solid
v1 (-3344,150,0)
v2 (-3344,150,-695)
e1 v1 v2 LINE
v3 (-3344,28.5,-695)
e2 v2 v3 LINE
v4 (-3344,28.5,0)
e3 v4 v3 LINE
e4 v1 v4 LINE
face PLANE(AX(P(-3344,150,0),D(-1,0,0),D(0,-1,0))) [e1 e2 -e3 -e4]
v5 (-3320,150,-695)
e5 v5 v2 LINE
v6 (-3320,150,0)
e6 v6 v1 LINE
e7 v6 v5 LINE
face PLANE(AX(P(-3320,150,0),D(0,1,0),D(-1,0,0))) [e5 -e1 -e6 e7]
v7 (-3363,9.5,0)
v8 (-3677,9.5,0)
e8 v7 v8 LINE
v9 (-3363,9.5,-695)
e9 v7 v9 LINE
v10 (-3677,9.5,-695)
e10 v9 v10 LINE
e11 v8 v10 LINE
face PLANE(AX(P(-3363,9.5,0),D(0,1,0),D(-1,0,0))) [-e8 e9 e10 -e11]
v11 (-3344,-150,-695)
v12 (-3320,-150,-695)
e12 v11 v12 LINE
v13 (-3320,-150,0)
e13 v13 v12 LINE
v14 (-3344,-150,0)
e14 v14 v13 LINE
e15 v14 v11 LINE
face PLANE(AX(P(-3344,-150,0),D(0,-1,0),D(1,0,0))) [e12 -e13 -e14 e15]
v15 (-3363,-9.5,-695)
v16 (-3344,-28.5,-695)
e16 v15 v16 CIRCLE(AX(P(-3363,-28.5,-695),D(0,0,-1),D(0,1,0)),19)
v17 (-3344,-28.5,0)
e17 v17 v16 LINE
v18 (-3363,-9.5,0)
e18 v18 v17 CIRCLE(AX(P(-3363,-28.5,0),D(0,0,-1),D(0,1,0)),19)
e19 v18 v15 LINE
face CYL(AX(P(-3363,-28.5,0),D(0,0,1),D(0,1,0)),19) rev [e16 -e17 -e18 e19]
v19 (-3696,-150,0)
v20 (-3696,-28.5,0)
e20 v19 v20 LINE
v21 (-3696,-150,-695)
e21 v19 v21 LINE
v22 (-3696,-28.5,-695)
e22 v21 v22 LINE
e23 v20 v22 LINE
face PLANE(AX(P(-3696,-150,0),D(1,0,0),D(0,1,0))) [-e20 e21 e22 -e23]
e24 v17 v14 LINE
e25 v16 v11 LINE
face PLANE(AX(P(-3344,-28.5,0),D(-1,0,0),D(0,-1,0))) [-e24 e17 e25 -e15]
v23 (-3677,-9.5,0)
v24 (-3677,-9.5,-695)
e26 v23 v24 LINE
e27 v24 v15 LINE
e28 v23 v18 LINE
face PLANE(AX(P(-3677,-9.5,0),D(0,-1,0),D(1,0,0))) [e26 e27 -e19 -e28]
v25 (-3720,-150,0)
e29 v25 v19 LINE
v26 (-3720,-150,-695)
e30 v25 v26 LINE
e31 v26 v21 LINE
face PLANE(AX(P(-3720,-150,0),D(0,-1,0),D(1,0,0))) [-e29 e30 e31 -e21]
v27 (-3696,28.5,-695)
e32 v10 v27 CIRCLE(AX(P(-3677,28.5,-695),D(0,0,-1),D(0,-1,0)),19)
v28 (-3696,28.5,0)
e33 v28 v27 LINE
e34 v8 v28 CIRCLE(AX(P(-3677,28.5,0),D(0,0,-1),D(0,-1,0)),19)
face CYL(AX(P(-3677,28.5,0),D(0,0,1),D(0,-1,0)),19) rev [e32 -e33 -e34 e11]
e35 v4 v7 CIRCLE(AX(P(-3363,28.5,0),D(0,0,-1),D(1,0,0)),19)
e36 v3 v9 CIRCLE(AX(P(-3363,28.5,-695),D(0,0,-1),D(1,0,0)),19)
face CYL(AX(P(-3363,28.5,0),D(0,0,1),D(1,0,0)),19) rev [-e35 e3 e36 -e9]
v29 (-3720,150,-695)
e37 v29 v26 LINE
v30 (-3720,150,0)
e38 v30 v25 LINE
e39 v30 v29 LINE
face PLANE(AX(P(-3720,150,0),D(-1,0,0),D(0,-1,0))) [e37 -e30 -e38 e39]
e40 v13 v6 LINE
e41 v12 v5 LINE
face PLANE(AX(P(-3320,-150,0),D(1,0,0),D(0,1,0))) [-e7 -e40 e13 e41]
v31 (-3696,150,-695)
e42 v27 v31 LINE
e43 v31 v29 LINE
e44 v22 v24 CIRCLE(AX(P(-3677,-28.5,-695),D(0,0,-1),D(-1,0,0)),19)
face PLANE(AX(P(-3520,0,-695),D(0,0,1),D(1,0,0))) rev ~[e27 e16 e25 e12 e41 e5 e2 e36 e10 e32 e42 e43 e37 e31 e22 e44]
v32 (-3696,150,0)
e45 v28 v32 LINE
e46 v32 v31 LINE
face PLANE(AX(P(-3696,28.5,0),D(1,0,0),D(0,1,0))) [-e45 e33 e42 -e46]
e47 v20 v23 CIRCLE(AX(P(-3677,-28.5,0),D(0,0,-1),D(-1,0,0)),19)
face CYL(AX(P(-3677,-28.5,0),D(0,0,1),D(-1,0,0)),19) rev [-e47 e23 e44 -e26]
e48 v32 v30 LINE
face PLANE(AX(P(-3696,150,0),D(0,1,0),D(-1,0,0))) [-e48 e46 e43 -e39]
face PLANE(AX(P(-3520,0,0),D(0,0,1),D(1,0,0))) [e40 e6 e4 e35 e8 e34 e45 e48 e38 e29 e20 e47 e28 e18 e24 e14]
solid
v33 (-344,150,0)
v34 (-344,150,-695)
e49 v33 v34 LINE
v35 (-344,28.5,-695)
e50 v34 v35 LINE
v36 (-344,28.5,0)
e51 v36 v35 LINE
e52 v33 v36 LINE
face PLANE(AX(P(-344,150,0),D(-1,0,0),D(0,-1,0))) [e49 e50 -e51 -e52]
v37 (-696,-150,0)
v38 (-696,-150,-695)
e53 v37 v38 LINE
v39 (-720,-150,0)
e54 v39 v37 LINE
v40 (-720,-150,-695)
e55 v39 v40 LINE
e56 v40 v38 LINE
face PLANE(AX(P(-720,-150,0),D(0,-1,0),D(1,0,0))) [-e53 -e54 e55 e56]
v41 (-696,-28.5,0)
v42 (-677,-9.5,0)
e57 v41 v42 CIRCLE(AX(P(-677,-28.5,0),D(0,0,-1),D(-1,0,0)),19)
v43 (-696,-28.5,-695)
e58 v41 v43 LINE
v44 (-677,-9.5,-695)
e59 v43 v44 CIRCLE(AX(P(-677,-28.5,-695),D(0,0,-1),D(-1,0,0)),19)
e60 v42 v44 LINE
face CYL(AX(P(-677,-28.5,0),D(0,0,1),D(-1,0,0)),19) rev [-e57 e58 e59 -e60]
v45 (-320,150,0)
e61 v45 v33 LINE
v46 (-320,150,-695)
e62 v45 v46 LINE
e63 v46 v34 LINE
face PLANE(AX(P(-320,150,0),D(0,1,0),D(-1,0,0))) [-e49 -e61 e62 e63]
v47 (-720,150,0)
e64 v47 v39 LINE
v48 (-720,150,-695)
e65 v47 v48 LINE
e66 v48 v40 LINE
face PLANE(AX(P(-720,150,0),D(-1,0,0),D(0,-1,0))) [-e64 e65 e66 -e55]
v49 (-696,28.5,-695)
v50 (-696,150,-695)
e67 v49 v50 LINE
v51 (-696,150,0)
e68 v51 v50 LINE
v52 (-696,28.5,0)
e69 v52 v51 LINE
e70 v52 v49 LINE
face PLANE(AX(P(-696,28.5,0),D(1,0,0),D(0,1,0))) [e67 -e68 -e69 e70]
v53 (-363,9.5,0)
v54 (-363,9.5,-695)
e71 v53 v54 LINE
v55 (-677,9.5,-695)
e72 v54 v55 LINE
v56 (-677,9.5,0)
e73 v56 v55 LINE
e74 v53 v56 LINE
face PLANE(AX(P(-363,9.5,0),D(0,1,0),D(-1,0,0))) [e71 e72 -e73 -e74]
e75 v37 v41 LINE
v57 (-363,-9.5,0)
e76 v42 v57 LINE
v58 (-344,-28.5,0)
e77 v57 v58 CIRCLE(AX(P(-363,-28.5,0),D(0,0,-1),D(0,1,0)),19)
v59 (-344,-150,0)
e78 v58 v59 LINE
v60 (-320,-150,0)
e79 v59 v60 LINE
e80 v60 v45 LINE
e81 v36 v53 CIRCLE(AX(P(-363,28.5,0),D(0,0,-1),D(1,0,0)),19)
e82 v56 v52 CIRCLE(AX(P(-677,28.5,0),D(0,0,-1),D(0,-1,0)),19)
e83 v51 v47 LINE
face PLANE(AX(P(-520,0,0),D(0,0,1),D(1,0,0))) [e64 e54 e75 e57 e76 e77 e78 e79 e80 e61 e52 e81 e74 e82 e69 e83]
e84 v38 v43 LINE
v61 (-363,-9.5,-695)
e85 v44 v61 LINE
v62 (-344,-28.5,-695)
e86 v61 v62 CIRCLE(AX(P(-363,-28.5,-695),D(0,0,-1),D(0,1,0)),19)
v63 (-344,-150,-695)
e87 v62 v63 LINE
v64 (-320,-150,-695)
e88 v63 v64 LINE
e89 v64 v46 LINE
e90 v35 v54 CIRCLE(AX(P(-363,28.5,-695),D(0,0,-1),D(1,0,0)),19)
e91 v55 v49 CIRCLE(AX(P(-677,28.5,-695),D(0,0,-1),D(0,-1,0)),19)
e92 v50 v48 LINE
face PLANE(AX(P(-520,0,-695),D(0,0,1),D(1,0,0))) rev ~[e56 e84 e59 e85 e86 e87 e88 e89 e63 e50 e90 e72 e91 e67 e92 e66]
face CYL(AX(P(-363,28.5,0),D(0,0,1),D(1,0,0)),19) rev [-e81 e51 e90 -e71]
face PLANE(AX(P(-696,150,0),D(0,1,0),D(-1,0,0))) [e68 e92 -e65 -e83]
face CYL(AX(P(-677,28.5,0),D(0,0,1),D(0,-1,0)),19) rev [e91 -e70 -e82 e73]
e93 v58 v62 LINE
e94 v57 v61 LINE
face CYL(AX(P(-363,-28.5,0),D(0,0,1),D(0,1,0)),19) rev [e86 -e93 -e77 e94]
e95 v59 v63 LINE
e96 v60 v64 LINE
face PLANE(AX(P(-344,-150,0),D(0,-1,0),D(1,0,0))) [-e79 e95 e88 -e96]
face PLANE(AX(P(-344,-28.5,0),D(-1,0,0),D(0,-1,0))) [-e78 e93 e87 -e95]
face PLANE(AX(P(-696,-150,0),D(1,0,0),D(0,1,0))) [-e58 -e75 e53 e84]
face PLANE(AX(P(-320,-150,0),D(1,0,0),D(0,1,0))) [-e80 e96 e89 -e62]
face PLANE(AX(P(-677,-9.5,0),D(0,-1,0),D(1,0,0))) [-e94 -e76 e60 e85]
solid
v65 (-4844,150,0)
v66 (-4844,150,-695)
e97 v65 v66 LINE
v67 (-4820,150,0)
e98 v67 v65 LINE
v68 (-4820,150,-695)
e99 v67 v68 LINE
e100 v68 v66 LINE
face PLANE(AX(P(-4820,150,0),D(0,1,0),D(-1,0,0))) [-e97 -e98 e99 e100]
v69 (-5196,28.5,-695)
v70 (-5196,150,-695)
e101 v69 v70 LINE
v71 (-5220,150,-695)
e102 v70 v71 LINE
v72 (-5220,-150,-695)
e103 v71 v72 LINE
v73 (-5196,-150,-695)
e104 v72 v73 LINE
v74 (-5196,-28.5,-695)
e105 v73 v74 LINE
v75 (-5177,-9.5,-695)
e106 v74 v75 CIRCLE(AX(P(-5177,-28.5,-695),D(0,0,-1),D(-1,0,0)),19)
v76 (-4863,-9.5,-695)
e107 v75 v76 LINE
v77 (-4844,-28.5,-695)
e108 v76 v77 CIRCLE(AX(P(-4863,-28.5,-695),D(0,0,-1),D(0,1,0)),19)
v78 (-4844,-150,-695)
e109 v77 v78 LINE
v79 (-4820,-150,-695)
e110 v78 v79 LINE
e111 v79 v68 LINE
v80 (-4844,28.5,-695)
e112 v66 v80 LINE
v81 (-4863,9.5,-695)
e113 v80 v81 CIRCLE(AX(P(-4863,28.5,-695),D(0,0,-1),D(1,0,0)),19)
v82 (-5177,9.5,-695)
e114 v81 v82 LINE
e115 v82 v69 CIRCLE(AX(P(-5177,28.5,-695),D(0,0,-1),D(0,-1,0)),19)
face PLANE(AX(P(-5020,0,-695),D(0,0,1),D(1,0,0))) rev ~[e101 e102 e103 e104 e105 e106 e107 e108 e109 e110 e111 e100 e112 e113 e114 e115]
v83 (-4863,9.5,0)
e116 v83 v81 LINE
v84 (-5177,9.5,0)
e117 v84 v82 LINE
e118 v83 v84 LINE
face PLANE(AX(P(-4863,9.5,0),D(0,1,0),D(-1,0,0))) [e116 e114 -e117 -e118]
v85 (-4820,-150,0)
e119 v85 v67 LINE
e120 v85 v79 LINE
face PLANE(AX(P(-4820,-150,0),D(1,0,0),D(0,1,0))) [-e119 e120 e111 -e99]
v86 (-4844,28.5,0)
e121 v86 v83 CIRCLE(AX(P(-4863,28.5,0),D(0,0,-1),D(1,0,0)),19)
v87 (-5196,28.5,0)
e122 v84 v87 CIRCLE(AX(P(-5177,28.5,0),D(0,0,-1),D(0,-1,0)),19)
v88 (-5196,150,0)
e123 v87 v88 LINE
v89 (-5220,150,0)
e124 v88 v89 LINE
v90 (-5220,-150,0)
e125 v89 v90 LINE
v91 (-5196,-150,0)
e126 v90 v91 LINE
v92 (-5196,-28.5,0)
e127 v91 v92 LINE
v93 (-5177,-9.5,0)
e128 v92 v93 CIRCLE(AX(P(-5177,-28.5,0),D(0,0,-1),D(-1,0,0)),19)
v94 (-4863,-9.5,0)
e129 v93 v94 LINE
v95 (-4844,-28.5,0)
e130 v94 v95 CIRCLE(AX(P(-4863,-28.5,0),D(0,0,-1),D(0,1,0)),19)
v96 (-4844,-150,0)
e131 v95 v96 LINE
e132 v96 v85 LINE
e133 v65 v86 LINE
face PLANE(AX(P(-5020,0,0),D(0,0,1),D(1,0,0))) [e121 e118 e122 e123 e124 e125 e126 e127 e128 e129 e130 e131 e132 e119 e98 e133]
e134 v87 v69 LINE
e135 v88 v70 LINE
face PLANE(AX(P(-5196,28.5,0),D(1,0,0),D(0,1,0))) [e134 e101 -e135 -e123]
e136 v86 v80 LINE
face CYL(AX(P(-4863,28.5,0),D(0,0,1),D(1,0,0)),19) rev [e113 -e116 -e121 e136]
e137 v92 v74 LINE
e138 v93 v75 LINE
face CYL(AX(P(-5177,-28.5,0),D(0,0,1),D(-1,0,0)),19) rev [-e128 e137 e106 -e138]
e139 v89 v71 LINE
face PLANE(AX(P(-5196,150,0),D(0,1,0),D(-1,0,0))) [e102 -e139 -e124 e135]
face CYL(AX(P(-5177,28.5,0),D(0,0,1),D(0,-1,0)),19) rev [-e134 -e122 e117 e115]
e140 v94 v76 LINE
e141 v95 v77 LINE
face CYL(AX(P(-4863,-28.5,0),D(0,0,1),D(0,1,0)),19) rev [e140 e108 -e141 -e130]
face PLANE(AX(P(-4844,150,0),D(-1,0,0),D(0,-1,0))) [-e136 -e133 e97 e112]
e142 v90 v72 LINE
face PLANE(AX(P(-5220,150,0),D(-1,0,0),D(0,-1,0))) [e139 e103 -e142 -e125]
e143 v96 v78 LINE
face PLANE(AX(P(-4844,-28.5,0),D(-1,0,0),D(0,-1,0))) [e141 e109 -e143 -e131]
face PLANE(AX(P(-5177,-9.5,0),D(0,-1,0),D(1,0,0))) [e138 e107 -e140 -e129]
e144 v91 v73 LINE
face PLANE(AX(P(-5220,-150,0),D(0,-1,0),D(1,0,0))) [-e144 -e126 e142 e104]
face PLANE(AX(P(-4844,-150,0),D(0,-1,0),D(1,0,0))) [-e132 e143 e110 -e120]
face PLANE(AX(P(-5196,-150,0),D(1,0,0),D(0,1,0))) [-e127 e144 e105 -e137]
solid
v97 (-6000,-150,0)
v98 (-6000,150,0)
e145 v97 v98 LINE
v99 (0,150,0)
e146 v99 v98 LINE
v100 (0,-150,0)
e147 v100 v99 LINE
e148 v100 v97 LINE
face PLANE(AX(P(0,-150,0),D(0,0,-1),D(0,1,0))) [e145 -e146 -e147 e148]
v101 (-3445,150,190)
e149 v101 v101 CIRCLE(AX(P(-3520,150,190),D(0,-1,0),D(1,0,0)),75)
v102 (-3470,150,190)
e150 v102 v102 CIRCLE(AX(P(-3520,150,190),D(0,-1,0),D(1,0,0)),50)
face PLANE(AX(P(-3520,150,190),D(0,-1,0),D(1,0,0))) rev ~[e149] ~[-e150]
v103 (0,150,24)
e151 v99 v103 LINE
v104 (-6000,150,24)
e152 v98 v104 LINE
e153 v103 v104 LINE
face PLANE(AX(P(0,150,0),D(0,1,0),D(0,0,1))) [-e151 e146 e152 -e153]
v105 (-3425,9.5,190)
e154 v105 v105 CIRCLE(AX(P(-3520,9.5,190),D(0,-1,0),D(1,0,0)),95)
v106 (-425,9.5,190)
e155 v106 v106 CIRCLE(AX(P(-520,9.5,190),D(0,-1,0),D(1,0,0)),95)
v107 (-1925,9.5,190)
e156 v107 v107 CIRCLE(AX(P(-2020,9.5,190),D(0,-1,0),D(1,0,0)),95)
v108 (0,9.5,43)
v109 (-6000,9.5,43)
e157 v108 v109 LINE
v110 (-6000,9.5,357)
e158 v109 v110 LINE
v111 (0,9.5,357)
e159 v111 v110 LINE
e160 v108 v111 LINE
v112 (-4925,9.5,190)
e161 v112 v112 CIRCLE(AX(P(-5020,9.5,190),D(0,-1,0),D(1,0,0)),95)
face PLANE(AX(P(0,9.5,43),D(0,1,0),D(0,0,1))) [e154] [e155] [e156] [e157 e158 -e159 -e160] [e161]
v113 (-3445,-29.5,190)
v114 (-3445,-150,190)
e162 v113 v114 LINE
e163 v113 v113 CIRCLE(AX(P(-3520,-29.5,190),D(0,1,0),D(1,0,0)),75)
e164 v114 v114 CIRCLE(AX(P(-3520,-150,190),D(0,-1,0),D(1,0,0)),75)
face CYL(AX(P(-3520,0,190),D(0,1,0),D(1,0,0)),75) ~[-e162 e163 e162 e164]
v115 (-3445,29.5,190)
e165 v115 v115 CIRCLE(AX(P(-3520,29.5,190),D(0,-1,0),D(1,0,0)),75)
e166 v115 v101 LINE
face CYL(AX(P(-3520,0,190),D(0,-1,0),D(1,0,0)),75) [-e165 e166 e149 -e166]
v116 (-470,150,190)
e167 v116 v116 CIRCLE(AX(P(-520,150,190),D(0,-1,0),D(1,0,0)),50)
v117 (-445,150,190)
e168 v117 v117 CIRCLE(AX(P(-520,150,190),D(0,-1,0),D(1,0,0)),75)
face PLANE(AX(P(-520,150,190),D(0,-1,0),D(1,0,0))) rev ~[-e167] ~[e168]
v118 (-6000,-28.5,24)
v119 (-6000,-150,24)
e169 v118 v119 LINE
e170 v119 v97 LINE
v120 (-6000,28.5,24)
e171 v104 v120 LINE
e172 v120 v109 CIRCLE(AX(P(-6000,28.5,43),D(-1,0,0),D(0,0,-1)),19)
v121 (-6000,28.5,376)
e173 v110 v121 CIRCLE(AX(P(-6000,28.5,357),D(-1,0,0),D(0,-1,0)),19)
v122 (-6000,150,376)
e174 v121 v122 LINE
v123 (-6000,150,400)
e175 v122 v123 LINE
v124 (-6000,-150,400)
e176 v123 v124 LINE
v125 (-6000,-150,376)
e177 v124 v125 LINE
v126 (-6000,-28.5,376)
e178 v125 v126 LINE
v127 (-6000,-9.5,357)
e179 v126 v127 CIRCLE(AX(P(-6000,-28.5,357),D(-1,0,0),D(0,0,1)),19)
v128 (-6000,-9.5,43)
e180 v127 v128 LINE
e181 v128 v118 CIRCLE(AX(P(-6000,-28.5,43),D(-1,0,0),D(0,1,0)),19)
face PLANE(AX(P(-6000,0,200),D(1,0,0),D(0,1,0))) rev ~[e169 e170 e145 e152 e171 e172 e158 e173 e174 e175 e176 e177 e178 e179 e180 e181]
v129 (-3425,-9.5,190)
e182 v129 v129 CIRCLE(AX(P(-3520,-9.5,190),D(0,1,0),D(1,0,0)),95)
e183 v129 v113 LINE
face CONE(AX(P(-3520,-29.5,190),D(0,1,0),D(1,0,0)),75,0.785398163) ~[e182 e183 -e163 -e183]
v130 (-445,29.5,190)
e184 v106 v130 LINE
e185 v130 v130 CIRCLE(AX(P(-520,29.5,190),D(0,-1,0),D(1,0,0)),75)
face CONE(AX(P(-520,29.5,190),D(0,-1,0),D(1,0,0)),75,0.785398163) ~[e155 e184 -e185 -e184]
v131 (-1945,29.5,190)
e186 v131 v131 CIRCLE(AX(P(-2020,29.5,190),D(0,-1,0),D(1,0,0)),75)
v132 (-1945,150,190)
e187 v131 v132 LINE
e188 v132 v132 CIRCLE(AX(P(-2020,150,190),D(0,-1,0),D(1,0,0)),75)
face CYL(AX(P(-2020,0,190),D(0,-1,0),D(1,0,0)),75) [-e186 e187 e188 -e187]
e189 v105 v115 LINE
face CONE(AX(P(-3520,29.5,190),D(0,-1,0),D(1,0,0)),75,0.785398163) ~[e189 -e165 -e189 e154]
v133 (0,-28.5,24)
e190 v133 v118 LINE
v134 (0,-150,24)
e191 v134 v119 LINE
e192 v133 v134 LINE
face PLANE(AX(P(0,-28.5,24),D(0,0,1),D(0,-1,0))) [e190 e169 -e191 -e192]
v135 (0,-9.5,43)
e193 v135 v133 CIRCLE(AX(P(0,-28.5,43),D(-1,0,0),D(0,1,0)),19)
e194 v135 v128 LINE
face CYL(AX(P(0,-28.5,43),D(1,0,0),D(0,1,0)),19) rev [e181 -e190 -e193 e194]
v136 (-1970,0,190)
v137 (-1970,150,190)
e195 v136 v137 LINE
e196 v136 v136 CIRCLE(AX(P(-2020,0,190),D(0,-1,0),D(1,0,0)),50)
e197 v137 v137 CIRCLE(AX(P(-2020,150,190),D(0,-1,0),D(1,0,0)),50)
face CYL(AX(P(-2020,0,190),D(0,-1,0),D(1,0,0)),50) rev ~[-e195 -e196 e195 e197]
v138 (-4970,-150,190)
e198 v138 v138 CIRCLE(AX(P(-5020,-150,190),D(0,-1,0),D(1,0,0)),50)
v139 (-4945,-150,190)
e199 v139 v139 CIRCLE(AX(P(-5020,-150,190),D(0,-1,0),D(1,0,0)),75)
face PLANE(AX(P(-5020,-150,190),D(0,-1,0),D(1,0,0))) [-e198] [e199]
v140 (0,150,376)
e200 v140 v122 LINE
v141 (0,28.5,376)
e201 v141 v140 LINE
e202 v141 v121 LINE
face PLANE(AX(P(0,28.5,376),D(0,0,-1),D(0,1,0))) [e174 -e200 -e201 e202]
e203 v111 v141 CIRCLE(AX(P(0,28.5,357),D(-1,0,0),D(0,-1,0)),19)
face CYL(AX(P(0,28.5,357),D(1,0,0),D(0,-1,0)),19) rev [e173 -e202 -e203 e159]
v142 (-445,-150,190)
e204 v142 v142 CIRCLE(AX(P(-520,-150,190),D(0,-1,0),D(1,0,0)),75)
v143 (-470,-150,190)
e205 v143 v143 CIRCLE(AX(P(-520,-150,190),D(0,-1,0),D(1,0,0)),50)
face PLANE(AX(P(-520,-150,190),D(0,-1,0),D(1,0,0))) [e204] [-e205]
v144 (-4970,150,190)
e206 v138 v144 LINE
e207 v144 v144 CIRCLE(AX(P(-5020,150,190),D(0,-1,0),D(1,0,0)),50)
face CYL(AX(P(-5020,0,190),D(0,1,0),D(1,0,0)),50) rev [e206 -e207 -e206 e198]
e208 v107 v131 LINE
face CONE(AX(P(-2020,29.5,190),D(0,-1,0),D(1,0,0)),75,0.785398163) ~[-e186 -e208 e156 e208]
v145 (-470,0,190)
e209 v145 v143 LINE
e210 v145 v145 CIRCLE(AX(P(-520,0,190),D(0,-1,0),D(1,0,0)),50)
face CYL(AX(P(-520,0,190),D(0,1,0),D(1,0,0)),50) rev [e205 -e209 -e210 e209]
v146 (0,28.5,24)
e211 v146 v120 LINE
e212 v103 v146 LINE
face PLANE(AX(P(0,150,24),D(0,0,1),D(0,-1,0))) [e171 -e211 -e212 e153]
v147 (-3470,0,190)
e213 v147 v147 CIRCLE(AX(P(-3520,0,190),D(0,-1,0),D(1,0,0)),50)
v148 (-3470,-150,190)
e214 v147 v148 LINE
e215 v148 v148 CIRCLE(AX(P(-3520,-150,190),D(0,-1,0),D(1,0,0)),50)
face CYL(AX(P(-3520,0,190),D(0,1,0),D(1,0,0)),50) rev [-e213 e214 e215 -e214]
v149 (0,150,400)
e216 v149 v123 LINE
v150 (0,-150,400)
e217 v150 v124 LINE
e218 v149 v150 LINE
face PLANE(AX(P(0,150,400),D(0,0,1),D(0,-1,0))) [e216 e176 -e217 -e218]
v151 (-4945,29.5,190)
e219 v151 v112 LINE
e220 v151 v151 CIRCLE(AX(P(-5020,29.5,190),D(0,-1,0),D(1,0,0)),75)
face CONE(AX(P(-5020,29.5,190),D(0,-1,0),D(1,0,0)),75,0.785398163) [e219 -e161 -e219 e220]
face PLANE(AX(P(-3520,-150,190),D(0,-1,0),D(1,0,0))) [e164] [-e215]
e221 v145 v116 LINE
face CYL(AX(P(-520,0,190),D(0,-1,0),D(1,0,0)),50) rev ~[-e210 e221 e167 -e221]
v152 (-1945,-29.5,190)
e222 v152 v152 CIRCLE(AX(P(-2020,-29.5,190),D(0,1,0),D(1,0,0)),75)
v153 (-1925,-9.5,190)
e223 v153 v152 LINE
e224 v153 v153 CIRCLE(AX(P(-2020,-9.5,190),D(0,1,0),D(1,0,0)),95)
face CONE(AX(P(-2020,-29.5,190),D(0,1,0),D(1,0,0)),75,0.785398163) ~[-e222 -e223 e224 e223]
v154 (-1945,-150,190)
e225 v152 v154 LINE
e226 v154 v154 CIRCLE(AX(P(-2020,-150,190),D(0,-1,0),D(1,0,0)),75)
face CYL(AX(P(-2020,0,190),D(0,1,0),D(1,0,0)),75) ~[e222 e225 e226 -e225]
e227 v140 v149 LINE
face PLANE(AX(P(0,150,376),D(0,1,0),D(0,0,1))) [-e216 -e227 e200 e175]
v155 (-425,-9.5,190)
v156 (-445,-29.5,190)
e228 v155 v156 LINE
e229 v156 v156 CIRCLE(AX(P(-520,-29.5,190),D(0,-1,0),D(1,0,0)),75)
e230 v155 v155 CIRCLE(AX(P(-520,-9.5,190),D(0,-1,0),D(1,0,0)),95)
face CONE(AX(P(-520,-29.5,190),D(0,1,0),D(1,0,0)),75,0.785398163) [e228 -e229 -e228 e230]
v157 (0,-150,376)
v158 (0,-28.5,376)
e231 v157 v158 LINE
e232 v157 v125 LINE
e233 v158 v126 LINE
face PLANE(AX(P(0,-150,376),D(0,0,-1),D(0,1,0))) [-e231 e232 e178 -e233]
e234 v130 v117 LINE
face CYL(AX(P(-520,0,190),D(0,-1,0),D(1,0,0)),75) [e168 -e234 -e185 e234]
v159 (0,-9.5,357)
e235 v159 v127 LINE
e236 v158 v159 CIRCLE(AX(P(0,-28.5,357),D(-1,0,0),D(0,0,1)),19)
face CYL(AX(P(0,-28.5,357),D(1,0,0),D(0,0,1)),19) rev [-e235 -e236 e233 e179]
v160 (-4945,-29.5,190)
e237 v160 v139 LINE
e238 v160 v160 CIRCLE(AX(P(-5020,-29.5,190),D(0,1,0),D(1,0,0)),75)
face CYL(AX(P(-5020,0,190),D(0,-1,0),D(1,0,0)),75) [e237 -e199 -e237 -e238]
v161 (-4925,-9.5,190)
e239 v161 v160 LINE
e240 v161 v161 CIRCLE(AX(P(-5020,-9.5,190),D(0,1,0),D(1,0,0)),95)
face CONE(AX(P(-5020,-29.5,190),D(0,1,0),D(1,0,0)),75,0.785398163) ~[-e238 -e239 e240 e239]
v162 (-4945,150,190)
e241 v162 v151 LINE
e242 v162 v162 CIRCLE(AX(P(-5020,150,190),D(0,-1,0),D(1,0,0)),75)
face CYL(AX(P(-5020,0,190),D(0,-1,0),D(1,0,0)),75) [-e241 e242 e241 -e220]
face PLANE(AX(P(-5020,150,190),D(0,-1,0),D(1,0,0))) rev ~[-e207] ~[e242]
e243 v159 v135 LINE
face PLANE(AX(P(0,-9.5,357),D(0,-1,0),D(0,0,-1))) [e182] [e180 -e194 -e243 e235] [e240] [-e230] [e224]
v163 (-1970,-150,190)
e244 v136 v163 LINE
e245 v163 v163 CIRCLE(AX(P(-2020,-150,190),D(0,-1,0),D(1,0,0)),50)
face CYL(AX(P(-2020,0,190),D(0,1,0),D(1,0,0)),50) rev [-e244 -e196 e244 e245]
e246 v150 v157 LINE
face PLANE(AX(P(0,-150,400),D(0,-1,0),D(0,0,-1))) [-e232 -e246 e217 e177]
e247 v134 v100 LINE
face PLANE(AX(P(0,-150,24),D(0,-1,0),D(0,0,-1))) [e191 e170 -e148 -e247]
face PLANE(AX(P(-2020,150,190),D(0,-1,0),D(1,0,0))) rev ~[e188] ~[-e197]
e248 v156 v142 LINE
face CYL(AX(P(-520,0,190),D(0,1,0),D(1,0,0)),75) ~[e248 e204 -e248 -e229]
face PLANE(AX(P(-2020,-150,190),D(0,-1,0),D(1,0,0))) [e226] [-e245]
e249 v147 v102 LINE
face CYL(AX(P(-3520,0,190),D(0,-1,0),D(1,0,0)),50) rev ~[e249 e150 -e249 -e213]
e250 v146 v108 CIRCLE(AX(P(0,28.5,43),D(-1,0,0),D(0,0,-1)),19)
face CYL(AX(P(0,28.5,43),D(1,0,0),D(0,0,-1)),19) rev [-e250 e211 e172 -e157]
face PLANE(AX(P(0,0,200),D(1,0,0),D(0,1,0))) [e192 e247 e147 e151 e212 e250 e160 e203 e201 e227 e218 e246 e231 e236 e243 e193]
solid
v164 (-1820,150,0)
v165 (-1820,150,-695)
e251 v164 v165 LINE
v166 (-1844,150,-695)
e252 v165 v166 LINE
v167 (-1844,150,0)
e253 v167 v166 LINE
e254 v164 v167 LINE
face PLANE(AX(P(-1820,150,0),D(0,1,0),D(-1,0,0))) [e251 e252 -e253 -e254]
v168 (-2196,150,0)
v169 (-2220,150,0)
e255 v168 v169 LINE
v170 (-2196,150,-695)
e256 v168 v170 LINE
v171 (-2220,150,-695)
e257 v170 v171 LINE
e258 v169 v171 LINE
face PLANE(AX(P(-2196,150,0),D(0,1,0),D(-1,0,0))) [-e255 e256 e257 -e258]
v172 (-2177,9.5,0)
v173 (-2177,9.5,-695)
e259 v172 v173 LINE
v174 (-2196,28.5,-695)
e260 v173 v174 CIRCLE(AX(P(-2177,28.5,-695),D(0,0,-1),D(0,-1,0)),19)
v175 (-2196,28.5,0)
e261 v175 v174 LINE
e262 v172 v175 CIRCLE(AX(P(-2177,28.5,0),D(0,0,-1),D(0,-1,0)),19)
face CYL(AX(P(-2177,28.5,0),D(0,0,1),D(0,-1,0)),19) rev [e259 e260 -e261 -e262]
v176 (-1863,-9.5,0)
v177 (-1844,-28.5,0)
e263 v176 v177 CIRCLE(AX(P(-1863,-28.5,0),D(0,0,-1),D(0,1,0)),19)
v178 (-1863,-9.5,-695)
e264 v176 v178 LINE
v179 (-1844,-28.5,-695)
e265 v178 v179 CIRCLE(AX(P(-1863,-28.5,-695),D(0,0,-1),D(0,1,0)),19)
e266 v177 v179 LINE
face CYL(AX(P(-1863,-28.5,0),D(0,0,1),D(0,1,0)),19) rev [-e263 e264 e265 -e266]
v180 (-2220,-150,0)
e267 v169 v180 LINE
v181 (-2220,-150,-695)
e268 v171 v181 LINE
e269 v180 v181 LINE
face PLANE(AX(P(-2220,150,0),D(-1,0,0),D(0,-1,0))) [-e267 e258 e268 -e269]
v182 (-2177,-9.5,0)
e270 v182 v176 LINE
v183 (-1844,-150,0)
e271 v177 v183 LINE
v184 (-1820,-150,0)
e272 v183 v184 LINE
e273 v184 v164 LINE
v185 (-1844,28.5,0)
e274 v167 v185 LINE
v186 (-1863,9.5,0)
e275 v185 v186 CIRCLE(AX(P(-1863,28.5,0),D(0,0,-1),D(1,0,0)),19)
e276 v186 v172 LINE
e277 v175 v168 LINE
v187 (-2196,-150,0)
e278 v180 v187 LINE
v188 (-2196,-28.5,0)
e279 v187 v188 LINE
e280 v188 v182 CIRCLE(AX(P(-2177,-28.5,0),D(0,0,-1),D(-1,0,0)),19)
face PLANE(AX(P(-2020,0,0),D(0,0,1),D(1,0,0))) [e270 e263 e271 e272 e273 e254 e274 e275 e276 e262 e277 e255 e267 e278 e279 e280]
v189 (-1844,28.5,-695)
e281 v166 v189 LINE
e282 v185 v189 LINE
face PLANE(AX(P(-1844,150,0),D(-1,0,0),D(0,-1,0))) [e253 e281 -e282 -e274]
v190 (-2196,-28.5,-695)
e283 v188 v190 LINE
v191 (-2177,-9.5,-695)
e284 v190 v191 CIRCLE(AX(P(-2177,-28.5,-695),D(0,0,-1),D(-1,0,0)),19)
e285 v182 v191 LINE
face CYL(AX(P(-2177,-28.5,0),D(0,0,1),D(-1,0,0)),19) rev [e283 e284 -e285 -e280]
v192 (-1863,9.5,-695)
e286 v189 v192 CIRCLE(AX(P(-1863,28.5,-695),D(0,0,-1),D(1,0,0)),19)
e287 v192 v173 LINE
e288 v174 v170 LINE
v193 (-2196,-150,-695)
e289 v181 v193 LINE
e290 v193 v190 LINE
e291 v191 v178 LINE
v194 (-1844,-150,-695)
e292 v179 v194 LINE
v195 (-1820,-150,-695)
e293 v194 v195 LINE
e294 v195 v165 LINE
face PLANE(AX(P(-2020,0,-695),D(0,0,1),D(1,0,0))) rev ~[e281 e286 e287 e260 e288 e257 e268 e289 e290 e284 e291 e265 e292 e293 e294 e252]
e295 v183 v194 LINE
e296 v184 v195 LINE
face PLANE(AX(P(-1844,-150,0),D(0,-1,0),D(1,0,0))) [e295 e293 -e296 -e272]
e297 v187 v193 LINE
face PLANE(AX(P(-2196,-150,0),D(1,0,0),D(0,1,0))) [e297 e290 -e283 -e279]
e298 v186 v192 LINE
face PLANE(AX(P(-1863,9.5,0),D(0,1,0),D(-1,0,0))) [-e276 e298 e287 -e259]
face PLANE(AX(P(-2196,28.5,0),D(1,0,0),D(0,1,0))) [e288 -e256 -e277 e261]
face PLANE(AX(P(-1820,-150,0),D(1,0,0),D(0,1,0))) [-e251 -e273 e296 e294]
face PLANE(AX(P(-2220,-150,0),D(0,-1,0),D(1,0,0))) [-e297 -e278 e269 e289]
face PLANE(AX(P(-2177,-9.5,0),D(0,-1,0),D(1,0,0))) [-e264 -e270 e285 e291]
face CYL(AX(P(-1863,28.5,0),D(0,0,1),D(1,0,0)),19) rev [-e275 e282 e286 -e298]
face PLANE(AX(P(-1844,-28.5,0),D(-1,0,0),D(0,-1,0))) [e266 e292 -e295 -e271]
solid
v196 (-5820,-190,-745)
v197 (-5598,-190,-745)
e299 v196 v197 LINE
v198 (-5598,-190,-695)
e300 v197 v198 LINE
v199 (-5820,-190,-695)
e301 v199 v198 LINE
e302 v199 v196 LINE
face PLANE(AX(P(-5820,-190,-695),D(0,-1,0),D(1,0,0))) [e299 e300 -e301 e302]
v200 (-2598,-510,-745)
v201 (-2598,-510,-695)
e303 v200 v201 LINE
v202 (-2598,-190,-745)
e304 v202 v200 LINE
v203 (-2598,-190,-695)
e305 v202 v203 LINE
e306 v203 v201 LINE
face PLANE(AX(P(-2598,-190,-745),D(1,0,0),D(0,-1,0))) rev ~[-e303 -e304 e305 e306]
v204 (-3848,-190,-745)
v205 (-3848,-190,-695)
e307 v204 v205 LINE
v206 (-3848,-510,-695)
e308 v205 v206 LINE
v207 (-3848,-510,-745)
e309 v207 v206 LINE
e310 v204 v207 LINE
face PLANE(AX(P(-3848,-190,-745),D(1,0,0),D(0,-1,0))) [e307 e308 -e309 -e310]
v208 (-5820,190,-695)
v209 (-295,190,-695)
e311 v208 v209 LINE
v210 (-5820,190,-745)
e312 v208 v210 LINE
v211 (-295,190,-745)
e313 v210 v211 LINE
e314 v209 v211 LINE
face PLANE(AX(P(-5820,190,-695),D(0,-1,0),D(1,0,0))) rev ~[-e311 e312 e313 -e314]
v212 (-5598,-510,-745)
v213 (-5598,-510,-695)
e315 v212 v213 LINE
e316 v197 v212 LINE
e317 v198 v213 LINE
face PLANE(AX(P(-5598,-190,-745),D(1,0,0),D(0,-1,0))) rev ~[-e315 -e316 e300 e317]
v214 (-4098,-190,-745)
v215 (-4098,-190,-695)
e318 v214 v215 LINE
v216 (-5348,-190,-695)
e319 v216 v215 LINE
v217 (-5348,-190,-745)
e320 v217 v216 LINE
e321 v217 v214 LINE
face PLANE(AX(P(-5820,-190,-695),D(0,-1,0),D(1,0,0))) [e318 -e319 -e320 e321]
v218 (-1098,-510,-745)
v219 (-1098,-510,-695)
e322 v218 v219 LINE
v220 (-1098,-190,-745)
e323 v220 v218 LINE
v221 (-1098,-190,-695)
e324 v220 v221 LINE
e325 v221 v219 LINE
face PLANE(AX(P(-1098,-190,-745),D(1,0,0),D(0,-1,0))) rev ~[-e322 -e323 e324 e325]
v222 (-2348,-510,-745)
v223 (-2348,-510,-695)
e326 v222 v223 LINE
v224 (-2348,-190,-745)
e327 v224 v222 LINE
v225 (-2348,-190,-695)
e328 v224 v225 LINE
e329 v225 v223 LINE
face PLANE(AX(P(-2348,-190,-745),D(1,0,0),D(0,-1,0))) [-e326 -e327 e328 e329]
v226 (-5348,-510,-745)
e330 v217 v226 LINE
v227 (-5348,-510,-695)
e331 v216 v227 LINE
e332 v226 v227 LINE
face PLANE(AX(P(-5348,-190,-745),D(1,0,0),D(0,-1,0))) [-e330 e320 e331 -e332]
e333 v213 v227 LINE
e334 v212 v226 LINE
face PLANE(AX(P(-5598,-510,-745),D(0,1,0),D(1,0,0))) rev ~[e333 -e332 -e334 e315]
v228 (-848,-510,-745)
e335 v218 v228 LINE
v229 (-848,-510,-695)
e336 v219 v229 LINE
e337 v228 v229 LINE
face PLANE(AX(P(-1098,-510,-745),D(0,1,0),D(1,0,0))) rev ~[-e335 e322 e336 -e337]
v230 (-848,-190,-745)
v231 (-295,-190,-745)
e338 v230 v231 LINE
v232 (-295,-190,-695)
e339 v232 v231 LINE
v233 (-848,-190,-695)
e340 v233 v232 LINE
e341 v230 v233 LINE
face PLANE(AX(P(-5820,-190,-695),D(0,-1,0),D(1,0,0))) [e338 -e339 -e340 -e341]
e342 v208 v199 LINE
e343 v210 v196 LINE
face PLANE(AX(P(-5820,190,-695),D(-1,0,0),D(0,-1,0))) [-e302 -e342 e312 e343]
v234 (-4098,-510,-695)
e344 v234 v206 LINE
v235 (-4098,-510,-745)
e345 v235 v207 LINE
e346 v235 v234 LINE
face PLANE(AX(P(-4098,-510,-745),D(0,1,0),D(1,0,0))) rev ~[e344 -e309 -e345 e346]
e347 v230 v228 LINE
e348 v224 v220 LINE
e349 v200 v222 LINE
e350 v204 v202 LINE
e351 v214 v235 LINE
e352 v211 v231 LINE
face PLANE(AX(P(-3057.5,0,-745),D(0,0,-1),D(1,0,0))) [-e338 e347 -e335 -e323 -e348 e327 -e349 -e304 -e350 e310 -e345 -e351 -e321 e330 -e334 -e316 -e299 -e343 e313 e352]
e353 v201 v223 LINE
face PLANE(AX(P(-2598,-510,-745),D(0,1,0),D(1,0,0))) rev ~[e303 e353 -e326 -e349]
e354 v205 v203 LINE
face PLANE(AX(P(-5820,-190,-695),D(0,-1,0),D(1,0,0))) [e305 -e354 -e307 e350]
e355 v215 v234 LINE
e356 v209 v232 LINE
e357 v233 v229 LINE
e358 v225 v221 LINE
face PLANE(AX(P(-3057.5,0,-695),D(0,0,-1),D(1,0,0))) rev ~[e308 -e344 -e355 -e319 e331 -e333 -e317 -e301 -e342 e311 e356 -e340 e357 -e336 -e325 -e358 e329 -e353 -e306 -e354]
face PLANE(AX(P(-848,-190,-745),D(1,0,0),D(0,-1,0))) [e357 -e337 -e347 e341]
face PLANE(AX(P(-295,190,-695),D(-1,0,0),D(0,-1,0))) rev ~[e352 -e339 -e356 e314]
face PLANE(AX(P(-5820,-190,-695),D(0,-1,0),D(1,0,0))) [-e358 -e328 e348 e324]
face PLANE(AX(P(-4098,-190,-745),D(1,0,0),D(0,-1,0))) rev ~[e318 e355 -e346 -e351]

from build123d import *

# Parameters (mm, degrees)
F1_DEPTH  = 6000
F2_R      = 75
F2_R_2    = 50
F3_DEPTH  = 25
F4_DEPTH  = 150
F6_DEPTH  = 695
F7_W      = 5525
F7_H      = 380
F8_DEPTH  = 50
F9_SIZE   = 20
F10_W     = 250
F10_H     = 320
F11_DEPTH = 50


with BuildPart() as f1:
    # F0 (on Right) → F1 (new body)
    with BuildSketch(Plane.YZ):
        with BuildLine():
            Line((-150, 0), (0, 0))
            Line((0, 0), (150, 0))
            Line((150, 0), (150, 24))
            Line((150, 24), (28.5, 24))
            ThreePointArc((28.5, 24), (15.0649711575, 29.5649711575), (9.5, 43))
            Line((9.5, 43), (9.5, 357))
            ThreePointArc((9.5, 357), (15.0649711575, 370.4350288425), (28.5, 376))
            Line((28.5, 376), (150, 376))
            Line((150, 376), (150, 400))
            Line((150, 400), (0, 400))
            Line((0, 400), (-150, 400))
            Line((-150, 400), (-150, 376))
            Line((-150, 376), (-28.5, 376))
            ThreePointArc((-28.5, 376), (-15.0649711575, 370.4350288425), (-9.5, 357))
            Line((-9.5, 357), (-9.5, 43))
            ThreePointArc((-9.5, 43), (-15.0649711575, 29.5649711575), (-28.5, 24))
            Line((-28.5, 24), (-150, 24))
            Line((-150, 24), (-150, 0))
        make_face()
    extrude(amount=-F1_DEPTH)

    # F2 (on Front) → F3 (cut, symmetric)
    with BuildSketch(Plane.XZ):
        with Locations((-5020, 190)):
            Circle(F2_R)
        with Locations((-5020, 190)):
            Circle(F2_R_2, mode=Mode.SUBTRACT)
        with Locations((-3520, 190)):
            Circle(F2_R)
        with Locations((-3520, 190)):
            Circle(F2_R_2, mode=Mode.SUBTRACT)
        with Locations((-2020, 190)):
            Circle(F2_R)
        with Locations((-2020, 190)):
            Circle(F2_R_2, mode=Mode.SUBTRACT)
        with Locations((-520, 190)):
            Circle(F2_R)
        with Locations((-520, 190)):
            Circle(F2_R_2, mode=Mode.SUBTRACT)
        with Locations((-5020, 190)):
            Circle(F2_R_2)
        with Locations((-3520, 190)):
            Circle(F2_R_2)
        with Locations((-2020, 190)):
            Circle(F2_R_2)
        with Locations((-520, 190)):
            Circle(F2_R_2)
    extrude(amount=F3_DEPTH, both=True, mode=Mode.SUBTRACT)

    # F2 (on Front) → F4 (join, symmetric)
    with BuildSketch(Plane.XZ):
        with Locations((-520, 190)):
            Circle(F2_R)
        with Locations((-520, 190)):
            Circle(F2_R_2, mode=Mode.SUBTRACT)
        with Locations((-2020, 190)):
            Circle(F2_R)
        with Locations((-2020, 190)):
            Circle(F2_R_2, mode=Mode.SUBTRACT)
        with Locations((-3520, 190)):
            Circle(F2_R)
        with Locations((-3520, 190)):
            Circle(F2_R_2, mode=Mode.SUBTRACT)
        with Locations((-5020, 190)):
            Circle(F2_R)
        with Locations((-5020, 190)):
            Circle(F2_R_2, mode=Mode.SUBTRACT)
    extrude(amount=F4_DEPTH, both=True)

    # F9
    f9_edges = [f1.edges().sort_by_distance(p)[0] for p in [
        (-5095, -9.5, 190),
        (-3595, -9.5, 190),
        (-2095, -9.5, 190),
        (-595, -9.5, 190),
        (-595, 9.5, 190),
        (-2095, 9.5, 190),
        (-3595, 9.5, 190),
        (-5095, 9.5, 190),
    ]]
    chamfer(f9_edges, length=F9_SIZE)


with BuildPart() as f6:
    # F5 (on Top) → F6 (new body)
    with BuildSketch(Plane.XY):
        with BuildLine():
            Line((-320, -150), (-320, 0))
            Line((-320, 0), (-320, 150))
            Line((-320, 150), (-344, 150))
            Line((-344, 150), (-344, 28.5))
            ThreePointArc((-344, 28.5), (-349.5649711575, 15.0649711575), (-363, 9.5))
            Line((-363, 9.5), (-677, 9.5))
            ThreePointArc((-677, 9.5), (-690.4350288425, 15.0649711575), (-696, 28.5))
            Line((-696, 28.5), (-696, 150))
            Line((-696, 150), (-720, 150))
            Line((-720, 150), (-720, 0))
            Line((-720, 0), (-720, -150))
            Line((-720, -150), (-696, -150))
            Line((-696, -150), (-696, -28.5))
            ThreePointArc((-696, -28.5), (-690.4350288425, -15.0649711575), (-677, -9.5))
            Line((-677, -9.5), (-363, -9.5))
            ThreePointArc((-363, -9.5), (-349.5649711575, -15.0649711575), (-344, -28.5))
            Line((-344, -28.5), (-344, -150))
            Line((-344, -150), (-320, -150))
        make_face()
    extrude(amount=-F6_DEPTH)


with BuildPart() as f6b:
    # F5 (on Top) → F6, piece 2 (new body)
    with BuildSketch(Plane.XY):
        with BuildLine():
            Line((-1820, -150), (-1820, 0))
            Line((-1820, 0), (-1820, 150))
            Line((-1820, 150), (-1844, 150))
            Line((-1844, 150), (-1844, 28.5))
            ThreePointArc((-1844, 28.5), (-1849.5649711575, 15.0649711575), (-1863, 9.5))
            Line((-1863, 9.5), (-2177, 9.5))
            ThreePointArc((-2177, 9.5), (-2190.4350288425, 15.0649711575), (-2196, 28.5))
            Line((-2196, 28.5), (-2196, 150))
            Line((-2196, 150), (-2220, 150))
            Line((-2220, 150), (-2220, 0))
            Line((-2220, 0), (-2220, -150))
            Line((-2220, -150), (-2196, -150))
            Line((-2196, -150), (-2196, -28.5))
            ThreePointArc((-2196, -28.5), (-2190.4350288425, -15.0649711575), (-2177, -9.5))
            Line((-2177, -9.5), (-1863, -9.5))
            ThreePointArc((-1863, -9.5), (-1849.5649711575, -15.0649711575), (-1844, -28.5))
            Line((-1844, -28.5), (-1844, -150))
            Line((-1844, -150), (-1820, -150))
        make_face()
    extrude(amount=-F6_DEPTH)


with BuildPart() as f6c:
    # F5 (on Top) → F6, piece 3 (new body)
    with BuildSketch(Plane.XY):
        with BuildLine():
            Line((-3320, -150), (-3320, 0))
            Line((-3320, 0), (-3320, 150))
            Line((-3320, 150), (-3344, 150))
            Line((-3344, 150), (-3344, 28.5))
            ThreePointArc((-3344, 28.5), (-3349.5649711575, 15.0649711575), (-3363, 9.5))
            Line((-3363, 9.5), (-3677, 9.5))
            ThreePointArc((-3677, 9.5), (-3690.4350288425, 15.0649711575), (-3696, 28.5))
            Line((-3696, 28.5), (-3696, 150))
            Line((-3696, 150), (-3720, 150))
            Line((-3720, 150), (-3720, 0))
            Line((-3720, 0), (-3720, -150))
            Line((-3720, -150), (-3696, -150))
            Line((-3696, -150), (-3696, -28.5))
            ThreePointArc((-3696, -28.5), (-3690.4350288425, -15.0649711575), (-3677, -9.5))
            Line((-3677, -9.5), (-3363, -9.5))
            ThreePointArc((-3363, -9.5), (-3349.5649711575, -15.0649711575), (-3344, -28.5))
            Line((-3344, -28.5), (-3344, -150))
            Line((-3344, -150), (-3320, -150))
        make_face()
    extrude(amount=-F6_DEPTH)


with BuildPart() as f6d:
    # F5 (on Top) → F6, piece 4 (new body)
    with BuildSketch(Plane.XY):
        with BuildLine():
            Line((-4820, -150), (-4820, 0))
            Line((-4820, 0), (-4820, 150))
            Line((-4820, 150), (-4844, 150))
            Line((-4844, 150), (-4844, 28.5))
            ThreePointArc((-4844, 28.5), (-4849.5649711575, 15.0649711575), (-4863, 9.5))
            Line((-4863, 9.5), (-5177, 9.5))
            ThreePointArc((-5177, 9.5), (-5190.4350288425, 15.0649711575), (-5196, 28.5))
            Line((-5196, 28.5), (-5196, 150))
            Line((-5196, 150), (-5220, 150))
            Line((-5220, 150), (-5220, 0))
            Line((-5220, 0), (-5220, -150))
            Line((-5220, -150), (-5196, -150))
            Line((-5196, -150), (-5196, -28.5))
            ThreePointArc((-5196, -28.5), (-5190.4350288425, -15.0649711575), (-5177, -9.5))
            Line((-5177, -9.5), (-4863, -9.5))
            ThreePointArc((-4863, -9.5), (-4849.5649711575, -15.0649711575), (-4844, -28.5))
            Line((-4844, -28.5), (-4844, -150))
            Line((-4844, -150), (-4820, -150))
        make_face()
    extrude(amount=-F6_DEPTH)


with BuildPart() as f8:
    # F7 (on face) → F8 (new body)
    with BuildSketch(Plane(origin=(0, 0, -695), x_dir=(1, 0, 0), z_dir=(0, 0, -1))):
        with Locations((-3057.5, 0)):
            Rectangle(F7_W, F7_H)
    extrude(amount=F8_DEPTH)

    # F10 (on face) → F11 (join)
    with BuildSketch(Plane(origin=(0, 0, -745), x_dir=(1, 0, 0), z_dir=(0, 0, -1))):
        with Locations((-973, 350)):
            Rectangle(F10_W, F10_H)
        with Locations((-2473, 350)):
            Rectangle(F10_W, F10_H)
        with Locations((-3973, 350)):
            Rectangle(F10_W, F10_H)
        with Locations((-5473, 350)):
            Rectangle(F10_W, F10_H)
    extrude(amount=-F11_DEPTH)


solid = Compound([f1.part, f6.part, f6b.part, f6c.part, f6d.part, f8.part])
